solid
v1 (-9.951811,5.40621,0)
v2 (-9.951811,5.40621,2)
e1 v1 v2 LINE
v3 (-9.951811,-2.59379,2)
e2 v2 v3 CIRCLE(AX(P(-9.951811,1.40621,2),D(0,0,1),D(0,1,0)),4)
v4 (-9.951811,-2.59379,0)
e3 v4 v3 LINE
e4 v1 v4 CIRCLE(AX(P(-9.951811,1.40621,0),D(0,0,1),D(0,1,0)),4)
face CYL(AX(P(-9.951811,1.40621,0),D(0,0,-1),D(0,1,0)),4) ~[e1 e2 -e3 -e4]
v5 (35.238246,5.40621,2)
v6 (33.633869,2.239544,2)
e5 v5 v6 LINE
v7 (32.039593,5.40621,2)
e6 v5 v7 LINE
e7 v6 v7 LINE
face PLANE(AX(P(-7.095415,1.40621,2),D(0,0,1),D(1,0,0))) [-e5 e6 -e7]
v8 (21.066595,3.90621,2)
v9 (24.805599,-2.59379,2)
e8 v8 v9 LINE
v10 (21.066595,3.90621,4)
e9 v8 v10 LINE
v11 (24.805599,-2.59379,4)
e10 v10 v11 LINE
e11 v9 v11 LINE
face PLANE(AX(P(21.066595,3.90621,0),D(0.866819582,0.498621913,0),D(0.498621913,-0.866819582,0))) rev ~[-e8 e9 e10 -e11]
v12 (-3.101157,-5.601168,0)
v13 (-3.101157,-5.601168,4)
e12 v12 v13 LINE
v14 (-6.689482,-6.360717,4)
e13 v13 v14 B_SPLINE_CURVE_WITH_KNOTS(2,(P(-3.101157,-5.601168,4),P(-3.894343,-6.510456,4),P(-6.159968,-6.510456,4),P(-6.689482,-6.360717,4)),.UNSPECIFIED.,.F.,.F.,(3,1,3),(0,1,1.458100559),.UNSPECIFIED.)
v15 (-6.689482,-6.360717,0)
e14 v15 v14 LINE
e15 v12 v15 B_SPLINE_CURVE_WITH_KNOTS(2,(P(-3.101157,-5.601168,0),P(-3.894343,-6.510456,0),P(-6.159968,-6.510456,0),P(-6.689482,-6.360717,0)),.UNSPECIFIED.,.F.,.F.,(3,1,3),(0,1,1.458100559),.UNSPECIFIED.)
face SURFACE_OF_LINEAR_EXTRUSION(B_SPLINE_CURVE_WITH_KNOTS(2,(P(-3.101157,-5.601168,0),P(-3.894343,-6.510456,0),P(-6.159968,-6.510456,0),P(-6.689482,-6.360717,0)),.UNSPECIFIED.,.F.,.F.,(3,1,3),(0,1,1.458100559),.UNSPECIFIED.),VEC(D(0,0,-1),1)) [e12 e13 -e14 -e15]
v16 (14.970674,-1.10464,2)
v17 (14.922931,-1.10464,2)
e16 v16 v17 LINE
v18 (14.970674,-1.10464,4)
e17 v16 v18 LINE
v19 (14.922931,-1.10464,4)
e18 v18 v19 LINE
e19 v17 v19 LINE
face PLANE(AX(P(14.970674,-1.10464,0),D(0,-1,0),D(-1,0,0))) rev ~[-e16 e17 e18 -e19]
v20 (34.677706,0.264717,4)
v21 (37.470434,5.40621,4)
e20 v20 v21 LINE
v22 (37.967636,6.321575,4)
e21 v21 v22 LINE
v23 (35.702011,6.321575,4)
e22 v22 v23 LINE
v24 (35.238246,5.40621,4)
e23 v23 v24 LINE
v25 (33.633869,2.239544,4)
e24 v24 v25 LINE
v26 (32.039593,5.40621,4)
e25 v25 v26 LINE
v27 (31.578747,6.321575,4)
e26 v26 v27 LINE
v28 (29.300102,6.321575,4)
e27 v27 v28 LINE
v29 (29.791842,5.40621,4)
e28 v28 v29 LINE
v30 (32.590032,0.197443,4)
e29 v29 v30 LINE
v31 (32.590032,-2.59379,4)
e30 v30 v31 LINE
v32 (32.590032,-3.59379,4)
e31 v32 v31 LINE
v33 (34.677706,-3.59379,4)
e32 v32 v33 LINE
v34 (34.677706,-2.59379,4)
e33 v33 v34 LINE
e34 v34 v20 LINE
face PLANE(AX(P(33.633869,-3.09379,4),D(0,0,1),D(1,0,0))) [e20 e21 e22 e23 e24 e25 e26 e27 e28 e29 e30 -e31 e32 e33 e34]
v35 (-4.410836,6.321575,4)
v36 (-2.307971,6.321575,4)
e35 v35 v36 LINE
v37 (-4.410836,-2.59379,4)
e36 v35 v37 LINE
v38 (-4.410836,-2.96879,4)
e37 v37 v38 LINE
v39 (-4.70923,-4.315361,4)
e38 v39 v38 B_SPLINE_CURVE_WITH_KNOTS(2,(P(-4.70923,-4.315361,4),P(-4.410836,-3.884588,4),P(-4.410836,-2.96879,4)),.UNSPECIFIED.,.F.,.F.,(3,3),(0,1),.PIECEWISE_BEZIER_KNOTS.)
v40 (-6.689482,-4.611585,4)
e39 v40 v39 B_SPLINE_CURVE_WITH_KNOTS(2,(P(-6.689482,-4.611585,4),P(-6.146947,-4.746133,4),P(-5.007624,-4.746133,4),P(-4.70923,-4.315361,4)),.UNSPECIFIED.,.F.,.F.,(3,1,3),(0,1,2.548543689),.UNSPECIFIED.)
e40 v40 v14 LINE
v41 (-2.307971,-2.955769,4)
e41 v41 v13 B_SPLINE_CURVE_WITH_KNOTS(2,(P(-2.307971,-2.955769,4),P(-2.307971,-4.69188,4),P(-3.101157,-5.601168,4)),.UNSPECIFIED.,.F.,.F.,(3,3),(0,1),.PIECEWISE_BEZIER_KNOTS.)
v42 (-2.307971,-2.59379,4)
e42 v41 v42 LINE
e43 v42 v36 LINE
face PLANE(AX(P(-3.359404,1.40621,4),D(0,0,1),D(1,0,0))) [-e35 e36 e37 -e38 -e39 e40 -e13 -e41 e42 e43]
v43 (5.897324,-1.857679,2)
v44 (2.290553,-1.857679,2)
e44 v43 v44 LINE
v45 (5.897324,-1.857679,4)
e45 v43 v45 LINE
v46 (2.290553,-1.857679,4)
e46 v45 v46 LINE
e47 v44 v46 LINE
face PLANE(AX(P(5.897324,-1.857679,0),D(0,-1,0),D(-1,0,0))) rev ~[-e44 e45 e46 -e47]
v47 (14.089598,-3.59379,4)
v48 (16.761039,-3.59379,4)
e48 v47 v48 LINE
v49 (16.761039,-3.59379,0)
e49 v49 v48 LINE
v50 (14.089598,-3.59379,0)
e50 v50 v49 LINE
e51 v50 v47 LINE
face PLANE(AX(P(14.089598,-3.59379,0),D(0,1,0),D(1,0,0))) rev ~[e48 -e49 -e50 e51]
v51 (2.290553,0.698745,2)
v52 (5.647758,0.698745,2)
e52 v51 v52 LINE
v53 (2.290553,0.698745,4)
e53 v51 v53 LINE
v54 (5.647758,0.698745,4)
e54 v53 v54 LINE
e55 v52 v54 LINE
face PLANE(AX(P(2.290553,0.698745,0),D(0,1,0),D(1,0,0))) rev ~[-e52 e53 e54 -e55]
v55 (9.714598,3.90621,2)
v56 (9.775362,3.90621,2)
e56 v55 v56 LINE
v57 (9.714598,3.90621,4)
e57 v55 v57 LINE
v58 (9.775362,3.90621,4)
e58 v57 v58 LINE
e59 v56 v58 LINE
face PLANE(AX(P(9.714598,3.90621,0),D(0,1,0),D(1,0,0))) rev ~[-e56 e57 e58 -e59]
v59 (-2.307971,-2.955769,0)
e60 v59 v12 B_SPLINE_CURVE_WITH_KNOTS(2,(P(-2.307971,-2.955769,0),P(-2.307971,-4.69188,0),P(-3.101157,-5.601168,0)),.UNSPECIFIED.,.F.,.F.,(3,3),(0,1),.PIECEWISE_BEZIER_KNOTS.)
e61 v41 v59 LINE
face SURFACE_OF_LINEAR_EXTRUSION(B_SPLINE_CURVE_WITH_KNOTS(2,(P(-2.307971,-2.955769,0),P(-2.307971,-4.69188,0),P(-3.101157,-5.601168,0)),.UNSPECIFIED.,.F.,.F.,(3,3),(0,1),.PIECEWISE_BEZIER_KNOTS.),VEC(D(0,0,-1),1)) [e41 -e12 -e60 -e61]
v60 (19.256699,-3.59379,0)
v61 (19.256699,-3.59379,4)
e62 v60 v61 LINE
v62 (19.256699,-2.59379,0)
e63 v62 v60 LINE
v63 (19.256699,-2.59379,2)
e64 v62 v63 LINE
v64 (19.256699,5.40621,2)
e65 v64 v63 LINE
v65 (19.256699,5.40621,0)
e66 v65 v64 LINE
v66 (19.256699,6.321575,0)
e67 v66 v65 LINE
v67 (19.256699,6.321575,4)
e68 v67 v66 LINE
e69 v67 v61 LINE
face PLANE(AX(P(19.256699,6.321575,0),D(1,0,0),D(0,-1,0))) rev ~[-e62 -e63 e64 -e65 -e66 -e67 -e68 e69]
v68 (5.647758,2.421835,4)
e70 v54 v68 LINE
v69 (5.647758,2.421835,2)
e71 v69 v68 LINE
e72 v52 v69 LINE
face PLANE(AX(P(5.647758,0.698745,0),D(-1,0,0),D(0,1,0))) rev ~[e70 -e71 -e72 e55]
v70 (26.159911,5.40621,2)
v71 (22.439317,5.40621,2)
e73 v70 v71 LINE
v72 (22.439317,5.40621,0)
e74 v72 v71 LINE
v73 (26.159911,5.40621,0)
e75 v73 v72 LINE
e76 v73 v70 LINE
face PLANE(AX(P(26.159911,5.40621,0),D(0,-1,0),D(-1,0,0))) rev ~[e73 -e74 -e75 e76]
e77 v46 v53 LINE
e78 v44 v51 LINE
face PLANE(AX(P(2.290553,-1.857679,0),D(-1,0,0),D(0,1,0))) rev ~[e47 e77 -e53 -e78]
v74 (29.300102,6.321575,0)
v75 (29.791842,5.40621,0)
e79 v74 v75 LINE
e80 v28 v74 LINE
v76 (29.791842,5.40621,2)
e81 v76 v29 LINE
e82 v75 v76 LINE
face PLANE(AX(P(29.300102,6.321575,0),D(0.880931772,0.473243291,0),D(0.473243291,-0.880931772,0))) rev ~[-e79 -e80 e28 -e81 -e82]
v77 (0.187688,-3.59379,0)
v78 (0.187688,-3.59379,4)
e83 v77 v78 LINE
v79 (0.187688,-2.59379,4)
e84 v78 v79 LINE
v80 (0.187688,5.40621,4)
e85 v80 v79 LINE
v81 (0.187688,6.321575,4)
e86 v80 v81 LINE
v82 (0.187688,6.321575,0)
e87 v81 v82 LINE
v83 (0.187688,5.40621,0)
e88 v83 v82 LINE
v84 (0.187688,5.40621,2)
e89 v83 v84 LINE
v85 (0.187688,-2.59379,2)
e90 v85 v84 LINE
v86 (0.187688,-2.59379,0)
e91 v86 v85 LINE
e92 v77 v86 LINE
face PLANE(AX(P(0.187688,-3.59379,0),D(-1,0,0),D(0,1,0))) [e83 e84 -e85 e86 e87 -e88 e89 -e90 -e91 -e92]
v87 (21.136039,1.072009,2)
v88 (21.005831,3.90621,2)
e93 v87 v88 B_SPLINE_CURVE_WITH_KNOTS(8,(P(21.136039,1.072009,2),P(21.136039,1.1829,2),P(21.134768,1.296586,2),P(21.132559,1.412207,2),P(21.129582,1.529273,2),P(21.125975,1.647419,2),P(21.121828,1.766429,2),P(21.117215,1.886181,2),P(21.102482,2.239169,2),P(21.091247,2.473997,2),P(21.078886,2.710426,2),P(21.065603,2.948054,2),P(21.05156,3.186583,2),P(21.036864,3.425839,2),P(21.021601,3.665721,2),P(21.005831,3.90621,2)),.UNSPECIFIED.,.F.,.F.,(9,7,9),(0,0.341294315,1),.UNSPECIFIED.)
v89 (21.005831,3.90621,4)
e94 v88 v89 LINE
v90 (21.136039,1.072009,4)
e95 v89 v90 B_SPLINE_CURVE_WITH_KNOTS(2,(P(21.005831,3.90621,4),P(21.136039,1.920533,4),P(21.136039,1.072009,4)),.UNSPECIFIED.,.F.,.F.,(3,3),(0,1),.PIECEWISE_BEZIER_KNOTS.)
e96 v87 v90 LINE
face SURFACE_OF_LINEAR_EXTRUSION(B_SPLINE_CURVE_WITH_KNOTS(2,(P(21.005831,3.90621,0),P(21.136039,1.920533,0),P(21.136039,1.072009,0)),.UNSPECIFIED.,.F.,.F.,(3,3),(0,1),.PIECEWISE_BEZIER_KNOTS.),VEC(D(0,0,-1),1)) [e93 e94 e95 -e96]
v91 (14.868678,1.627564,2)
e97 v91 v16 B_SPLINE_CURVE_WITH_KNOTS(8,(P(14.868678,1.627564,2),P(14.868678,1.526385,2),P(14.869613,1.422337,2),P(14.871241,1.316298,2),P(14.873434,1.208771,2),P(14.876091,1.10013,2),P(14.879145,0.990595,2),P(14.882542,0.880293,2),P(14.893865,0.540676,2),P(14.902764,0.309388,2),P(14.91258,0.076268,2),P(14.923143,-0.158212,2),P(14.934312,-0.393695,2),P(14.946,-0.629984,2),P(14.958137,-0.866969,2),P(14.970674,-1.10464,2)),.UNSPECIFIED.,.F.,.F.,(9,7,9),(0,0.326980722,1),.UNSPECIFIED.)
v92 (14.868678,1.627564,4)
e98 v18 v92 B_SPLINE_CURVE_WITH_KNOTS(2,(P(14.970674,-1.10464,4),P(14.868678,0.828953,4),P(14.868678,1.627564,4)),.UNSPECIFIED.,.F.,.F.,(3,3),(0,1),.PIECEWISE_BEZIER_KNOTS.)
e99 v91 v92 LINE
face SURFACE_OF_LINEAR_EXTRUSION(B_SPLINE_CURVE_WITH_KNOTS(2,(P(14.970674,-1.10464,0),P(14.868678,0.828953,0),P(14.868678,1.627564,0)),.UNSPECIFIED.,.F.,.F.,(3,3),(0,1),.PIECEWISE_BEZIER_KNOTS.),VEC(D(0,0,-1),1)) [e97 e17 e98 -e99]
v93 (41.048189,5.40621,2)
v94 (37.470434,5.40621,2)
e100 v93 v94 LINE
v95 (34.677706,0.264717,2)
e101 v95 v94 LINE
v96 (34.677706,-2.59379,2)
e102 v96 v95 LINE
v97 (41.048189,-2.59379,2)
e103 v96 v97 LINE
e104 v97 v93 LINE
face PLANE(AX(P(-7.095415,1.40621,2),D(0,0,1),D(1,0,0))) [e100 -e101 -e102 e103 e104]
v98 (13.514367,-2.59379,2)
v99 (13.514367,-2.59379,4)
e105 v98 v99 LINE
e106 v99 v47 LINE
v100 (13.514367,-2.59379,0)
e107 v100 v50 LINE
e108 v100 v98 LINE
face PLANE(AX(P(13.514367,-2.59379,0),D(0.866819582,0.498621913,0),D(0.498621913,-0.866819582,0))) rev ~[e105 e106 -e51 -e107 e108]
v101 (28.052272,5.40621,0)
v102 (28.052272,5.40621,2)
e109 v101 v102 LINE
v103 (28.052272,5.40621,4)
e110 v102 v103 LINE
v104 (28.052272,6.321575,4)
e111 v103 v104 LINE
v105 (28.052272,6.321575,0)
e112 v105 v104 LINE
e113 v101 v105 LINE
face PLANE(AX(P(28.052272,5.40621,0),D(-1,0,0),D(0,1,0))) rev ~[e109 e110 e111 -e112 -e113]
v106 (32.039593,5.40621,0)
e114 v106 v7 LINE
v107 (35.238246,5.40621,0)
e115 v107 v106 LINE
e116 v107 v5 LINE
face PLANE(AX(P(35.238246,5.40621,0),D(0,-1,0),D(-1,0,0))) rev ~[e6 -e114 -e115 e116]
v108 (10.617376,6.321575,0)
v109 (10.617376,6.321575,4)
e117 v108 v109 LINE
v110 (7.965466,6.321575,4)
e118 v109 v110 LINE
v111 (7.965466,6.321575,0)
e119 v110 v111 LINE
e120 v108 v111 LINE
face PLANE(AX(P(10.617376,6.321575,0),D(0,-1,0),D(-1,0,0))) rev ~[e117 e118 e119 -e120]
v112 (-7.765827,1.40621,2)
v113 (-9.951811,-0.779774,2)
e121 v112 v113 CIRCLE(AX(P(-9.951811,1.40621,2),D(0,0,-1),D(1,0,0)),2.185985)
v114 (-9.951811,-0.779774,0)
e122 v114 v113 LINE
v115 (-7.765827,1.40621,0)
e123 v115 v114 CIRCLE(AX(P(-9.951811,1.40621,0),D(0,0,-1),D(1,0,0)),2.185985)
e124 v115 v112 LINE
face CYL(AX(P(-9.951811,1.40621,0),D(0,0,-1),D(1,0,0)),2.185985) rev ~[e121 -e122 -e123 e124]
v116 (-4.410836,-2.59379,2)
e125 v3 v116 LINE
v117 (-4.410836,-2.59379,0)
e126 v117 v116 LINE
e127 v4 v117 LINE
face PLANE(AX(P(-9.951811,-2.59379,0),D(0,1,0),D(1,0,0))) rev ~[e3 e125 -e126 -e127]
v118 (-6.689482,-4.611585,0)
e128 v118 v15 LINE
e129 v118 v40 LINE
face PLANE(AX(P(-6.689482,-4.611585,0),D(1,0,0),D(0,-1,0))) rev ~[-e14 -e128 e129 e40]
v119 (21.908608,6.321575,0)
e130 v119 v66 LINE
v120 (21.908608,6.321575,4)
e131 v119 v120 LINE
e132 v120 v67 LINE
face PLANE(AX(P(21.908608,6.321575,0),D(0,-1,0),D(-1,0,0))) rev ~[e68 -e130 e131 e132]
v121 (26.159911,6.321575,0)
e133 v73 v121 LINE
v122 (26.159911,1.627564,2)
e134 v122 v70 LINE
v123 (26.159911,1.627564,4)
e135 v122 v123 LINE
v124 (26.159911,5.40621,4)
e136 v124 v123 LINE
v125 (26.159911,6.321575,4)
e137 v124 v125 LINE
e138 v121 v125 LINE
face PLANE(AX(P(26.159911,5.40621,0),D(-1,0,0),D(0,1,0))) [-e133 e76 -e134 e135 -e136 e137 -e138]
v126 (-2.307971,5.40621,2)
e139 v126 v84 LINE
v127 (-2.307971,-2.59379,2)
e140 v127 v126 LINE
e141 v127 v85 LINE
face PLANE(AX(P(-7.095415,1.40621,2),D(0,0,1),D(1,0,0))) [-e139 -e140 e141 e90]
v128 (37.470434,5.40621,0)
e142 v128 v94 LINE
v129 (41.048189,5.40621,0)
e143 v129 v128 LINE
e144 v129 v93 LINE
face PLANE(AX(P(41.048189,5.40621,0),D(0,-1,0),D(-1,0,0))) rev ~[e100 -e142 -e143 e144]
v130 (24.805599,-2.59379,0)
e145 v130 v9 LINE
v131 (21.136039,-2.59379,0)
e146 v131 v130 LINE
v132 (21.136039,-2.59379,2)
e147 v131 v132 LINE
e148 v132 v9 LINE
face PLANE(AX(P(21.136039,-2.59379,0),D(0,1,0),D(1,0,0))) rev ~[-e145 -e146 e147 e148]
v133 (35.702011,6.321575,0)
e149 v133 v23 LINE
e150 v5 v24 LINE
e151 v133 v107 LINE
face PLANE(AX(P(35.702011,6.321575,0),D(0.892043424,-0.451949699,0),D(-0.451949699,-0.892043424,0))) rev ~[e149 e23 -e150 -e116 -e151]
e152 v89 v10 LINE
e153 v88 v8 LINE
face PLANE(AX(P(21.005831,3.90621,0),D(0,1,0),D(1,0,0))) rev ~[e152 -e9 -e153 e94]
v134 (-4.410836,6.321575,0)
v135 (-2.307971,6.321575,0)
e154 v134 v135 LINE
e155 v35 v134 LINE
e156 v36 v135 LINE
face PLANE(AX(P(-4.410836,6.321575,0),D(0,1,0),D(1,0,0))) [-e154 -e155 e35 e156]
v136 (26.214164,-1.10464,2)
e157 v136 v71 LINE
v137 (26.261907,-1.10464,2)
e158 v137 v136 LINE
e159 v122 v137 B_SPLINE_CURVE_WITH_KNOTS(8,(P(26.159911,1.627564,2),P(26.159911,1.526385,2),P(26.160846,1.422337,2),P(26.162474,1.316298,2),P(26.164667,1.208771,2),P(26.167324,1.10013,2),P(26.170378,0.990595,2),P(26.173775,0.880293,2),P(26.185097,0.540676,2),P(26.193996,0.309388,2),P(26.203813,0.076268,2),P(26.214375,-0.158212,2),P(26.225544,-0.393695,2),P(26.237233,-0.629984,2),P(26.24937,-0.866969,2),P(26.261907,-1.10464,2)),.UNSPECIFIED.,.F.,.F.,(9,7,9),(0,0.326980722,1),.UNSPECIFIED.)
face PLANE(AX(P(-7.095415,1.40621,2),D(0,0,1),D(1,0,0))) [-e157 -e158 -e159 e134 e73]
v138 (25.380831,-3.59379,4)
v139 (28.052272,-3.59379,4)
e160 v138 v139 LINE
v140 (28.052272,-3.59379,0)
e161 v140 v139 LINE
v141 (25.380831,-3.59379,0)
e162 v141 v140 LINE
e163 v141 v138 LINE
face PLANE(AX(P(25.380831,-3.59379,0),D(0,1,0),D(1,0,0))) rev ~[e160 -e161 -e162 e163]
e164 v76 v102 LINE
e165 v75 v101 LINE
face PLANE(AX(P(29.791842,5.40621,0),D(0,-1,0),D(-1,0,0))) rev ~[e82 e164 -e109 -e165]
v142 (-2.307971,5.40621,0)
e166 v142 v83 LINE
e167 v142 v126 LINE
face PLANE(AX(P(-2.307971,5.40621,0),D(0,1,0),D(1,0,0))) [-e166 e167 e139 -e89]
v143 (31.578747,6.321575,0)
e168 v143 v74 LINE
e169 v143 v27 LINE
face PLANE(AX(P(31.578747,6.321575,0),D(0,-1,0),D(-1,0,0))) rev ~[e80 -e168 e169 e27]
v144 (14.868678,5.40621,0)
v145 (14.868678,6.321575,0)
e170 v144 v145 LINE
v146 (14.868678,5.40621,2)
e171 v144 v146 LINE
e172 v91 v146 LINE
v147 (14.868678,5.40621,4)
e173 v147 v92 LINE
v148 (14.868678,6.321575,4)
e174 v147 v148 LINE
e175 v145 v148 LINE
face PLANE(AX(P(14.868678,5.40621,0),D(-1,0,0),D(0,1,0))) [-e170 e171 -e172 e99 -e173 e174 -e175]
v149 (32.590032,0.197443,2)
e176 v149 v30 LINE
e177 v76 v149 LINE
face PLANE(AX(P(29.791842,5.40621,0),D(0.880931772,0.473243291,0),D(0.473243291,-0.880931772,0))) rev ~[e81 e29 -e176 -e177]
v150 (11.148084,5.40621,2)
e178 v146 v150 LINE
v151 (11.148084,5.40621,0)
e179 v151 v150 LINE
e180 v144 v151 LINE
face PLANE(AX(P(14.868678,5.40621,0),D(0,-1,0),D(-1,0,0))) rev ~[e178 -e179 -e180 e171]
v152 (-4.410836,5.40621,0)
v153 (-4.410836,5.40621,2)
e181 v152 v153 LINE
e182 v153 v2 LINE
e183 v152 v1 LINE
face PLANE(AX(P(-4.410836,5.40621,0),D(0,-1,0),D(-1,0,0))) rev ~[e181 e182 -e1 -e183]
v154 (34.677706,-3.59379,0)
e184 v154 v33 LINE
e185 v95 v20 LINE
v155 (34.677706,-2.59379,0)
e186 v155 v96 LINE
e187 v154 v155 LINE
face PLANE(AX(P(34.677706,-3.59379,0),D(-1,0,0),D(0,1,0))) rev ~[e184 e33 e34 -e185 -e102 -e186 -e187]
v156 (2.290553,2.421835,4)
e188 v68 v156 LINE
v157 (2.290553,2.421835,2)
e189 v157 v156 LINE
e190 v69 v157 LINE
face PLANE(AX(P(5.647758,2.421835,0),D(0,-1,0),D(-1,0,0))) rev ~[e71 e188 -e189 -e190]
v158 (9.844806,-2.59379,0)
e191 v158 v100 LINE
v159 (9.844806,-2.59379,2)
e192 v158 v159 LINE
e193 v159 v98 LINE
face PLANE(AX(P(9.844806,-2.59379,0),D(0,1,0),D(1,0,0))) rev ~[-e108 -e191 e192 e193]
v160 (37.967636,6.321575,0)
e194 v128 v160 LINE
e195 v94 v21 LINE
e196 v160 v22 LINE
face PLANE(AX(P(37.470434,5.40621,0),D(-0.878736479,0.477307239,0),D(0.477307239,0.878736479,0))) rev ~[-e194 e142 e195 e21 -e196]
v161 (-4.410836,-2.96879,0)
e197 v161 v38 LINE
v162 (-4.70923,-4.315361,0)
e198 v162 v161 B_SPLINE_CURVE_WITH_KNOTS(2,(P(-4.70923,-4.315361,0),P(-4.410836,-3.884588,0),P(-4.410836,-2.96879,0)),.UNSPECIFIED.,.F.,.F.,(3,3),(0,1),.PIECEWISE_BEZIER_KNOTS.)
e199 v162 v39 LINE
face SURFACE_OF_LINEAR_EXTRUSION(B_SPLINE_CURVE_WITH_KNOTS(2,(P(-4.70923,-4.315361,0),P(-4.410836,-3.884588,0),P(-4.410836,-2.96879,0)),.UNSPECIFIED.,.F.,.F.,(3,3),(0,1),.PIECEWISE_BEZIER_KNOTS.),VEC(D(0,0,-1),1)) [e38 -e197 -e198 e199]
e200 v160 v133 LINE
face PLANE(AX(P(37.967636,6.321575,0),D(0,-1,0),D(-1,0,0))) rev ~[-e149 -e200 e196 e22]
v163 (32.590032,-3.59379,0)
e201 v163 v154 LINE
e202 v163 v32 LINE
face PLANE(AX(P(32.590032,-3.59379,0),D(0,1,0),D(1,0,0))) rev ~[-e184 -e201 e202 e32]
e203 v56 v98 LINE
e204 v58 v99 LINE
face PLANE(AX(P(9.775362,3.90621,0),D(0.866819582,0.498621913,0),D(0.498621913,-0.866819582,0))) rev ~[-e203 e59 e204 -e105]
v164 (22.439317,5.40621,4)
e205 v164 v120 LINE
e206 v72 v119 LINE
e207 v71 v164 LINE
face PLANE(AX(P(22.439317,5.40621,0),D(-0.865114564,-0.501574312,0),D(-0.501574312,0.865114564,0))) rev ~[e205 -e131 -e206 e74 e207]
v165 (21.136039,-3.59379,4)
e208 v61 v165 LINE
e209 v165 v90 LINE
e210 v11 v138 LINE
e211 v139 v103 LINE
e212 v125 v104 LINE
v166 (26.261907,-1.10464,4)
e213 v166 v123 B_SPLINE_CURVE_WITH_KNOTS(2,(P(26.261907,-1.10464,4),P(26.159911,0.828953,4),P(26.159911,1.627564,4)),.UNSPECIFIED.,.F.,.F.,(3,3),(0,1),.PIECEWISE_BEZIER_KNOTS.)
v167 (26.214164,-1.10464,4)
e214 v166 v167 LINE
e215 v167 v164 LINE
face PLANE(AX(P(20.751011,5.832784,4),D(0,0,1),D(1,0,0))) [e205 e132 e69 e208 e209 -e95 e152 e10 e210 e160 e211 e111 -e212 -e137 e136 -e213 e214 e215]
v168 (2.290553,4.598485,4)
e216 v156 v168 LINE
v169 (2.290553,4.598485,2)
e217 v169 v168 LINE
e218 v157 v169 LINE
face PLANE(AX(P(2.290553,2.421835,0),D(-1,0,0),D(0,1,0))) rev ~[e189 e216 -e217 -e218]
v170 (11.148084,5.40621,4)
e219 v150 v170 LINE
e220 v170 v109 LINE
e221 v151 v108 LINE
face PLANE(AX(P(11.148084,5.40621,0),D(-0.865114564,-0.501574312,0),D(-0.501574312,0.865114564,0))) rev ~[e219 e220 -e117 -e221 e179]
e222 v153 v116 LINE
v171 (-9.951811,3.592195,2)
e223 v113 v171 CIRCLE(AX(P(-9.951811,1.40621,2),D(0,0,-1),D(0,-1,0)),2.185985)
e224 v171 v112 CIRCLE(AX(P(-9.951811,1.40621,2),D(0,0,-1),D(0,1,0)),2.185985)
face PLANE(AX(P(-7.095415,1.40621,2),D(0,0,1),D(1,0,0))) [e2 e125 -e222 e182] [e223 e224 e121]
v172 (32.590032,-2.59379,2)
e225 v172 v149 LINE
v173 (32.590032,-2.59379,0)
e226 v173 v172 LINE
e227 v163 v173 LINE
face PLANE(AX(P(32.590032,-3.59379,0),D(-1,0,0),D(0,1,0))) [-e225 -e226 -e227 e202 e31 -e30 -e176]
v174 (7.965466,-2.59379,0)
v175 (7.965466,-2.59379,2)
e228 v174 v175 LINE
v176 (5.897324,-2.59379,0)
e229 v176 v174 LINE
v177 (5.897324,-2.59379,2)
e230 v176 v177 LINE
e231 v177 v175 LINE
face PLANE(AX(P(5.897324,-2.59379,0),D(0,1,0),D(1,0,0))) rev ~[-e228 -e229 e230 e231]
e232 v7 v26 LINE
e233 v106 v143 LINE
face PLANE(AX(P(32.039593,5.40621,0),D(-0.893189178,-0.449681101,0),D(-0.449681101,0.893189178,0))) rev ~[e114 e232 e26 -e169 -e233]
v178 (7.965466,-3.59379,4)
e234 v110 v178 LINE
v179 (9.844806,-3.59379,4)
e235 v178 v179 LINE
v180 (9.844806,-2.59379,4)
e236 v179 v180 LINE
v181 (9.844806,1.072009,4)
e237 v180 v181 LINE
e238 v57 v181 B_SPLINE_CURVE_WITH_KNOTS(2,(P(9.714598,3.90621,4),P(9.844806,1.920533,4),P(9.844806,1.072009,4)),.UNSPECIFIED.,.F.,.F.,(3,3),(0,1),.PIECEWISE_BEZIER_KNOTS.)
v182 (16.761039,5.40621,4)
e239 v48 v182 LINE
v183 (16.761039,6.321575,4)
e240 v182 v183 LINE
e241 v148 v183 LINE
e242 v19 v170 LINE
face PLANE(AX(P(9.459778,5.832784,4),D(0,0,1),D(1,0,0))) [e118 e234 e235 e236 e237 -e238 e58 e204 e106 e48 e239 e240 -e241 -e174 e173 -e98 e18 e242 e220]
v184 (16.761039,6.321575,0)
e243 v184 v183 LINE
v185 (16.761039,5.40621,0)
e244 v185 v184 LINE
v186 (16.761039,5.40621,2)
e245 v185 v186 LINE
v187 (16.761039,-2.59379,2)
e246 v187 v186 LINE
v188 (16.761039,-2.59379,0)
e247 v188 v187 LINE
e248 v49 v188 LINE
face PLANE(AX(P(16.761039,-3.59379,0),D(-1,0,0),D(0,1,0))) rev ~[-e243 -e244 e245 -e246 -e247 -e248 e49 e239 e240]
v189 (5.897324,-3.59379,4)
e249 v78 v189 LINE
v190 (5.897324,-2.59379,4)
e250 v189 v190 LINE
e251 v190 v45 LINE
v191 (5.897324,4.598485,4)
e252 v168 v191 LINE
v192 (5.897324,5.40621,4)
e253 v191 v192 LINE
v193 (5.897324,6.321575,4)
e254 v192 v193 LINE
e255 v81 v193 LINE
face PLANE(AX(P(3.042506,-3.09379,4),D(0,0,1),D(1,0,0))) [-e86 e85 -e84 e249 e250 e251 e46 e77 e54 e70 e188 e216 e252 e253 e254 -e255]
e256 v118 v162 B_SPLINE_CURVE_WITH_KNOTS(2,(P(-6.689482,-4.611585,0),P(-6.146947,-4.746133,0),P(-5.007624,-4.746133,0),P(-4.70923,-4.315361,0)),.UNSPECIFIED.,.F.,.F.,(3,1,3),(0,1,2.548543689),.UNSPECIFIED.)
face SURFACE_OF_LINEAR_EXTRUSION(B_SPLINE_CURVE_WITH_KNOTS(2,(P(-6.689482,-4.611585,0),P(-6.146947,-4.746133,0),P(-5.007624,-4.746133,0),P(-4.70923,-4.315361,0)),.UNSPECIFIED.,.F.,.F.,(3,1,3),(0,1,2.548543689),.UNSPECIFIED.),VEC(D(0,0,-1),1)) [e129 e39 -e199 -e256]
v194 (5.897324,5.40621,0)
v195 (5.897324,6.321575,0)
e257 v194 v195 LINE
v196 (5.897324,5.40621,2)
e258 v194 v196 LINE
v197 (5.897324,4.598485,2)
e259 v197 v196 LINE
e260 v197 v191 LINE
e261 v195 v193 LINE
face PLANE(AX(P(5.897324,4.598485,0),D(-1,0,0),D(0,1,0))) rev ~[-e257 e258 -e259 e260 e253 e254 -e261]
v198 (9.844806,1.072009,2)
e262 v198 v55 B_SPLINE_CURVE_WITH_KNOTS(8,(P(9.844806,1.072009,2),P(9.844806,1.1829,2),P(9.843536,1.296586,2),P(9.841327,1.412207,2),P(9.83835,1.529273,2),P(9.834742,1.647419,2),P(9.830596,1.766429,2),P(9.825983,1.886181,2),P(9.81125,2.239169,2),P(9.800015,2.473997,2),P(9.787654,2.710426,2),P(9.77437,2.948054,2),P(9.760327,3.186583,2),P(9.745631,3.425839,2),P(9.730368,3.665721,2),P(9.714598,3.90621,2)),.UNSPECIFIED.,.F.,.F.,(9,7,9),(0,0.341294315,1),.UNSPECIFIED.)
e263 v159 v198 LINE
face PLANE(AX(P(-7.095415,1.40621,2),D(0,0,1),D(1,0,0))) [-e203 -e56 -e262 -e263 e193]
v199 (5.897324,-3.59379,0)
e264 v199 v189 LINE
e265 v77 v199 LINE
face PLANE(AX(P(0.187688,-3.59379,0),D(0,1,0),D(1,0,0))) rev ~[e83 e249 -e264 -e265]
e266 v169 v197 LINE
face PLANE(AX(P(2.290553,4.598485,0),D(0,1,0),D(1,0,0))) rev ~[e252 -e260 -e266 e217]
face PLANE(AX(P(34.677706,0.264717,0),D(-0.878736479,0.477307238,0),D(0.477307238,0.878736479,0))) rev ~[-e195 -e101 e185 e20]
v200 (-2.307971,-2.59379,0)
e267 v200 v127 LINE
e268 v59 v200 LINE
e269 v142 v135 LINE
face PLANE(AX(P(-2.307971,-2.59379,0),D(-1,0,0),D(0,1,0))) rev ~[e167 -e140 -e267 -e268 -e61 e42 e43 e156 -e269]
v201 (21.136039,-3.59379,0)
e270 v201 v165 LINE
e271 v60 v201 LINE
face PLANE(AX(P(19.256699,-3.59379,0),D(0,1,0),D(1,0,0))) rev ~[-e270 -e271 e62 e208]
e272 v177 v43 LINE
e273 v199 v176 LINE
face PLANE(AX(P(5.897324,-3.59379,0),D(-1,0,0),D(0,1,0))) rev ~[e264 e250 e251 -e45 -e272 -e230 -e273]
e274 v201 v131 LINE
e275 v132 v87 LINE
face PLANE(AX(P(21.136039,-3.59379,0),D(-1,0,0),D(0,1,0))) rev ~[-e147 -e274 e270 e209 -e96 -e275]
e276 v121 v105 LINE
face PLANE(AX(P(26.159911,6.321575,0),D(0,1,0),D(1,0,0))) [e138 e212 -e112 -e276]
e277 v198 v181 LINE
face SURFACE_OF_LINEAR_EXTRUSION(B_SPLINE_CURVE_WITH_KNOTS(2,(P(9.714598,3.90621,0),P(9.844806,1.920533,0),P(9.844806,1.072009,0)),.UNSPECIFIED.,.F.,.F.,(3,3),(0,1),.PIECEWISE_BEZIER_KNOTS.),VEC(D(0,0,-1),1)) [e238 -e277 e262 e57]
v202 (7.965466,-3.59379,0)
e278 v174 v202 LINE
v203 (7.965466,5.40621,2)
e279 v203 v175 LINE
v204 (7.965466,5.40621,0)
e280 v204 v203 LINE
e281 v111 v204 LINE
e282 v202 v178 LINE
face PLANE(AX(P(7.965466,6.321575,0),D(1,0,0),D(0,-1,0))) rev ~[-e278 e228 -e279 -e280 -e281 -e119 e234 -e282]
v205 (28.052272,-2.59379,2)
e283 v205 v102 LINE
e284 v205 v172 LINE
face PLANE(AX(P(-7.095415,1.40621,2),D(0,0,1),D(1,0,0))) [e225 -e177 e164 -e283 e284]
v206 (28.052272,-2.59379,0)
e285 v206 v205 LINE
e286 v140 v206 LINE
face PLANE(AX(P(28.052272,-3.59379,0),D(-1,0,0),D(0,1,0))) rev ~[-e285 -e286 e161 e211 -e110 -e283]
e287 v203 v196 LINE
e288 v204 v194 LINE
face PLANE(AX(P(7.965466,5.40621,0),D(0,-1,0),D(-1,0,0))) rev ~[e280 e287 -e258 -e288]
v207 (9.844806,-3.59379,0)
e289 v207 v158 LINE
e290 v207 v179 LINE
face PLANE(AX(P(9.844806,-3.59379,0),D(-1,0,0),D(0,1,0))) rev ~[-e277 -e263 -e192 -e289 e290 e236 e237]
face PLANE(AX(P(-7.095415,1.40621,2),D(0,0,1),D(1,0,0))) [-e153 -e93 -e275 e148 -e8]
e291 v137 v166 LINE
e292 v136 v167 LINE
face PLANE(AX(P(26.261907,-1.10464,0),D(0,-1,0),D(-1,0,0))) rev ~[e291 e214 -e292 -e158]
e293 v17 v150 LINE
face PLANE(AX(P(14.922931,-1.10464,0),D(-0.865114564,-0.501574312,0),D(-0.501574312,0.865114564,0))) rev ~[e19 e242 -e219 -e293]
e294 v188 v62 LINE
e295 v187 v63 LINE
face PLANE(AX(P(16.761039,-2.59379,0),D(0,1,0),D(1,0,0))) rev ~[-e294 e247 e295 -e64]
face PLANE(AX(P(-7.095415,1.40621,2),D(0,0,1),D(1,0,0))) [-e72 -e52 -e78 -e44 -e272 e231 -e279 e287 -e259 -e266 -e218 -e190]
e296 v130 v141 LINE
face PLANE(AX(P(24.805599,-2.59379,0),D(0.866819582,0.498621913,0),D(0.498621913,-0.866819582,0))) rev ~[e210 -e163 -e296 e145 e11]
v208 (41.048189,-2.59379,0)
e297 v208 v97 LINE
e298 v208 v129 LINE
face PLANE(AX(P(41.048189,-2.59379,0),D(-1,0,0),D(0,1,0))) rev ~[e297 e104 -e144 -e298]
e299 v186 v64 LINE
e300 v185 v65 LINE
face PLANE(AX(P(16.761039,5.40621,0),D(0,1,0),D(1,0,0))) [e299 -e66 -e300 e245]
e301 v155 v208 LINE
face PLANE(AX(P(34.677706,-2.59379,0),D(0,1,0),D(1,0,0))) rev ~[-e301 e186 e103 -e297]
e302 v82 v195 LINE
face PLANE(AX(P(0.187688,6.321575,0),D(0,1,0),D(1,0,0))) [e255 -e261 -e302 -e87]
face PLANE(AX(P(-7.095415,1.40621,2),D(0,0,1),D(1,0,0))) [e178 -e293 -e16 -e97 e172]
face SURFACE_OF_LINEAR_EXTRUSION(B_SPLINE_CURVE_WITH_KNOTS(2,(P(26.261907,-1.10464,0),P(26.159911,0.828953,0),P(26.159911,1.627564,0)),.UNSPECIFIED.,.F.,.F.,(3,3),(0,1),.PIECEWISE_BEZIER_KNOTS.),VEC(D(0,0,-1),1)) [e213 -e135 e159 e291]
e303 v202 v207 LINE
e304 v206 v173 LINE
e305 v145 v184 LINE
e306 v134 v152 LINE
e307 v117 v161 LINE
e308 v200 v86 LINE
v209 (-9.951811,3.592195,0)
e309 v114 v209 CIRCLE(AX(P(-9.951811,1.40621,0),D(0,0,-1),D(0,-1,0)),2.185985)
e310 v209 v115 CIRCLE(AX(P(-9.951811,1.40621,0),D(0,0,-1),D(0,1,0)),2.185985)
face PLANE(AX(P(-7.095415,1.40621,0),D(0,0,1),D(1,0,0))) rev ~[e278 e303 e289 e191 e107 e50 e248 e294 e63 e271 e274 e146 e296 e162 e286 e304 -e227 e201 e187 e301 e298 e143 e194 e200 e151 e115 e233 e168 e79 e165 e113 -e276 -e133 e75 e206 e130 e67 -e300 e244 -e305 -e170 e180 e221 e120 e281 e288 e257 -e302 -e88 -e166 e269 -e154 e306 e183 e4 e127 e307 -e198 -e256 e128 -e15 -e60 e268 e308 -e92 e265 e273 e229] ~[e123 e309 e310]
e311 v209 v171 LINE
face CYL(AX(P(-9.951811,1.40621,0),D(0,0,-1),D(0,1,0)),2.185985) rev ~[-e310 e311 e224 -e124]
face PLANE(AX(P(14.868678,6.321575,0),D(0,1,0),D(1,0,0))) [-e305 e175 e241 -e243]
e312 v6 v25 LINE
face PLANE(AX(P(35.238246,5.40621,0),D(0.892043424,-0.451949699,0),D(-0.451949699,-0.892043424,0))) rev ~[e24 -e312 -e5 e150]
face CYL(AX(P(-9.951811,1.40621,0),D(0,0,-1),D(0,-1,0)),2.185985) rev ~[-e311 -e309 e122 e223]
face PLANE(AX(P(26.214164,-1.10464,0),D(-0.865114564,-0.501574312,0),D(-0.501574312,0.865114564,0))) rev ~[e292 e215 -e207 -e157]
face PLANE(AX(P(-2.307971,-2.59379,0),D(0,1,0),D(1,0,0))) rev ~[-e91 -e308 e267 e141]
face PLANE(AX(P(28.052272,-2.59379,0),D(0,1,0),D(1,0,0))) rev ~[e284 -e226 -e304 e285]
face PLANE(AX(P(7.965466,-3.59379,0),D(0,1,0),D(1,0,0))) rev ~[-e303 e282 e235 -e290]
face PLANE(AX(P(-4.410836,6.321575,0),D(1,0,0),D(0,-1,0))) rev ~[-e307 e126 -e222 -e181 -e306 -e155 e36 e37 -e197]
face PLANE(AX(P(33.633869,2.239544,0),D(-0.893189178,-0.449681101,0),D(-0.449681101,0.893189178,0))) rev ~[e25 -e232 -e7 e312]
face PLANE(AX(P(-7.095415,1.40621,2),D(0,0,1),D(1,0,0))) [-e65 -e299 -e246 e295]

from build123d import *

# Parameters (mm, degrees)
F0_W     = 2.1028645833
F0_H     = 8
F0_H_2   = 0.9153645833
F1_DEPTH = 4
F0_W_2   = 5.7096354167
F0_H_3   = 1
F0_W_3   = 1.8793402778
F0_W_4   = 1.8923611111
F0_W_5   = 2.0876736111
F0_W_6   = 2.4956597222
F2_DEPTH = 2


with BuildPart() as f1:
    # F0 (on Top) → F1 (new body)
    with BuildSketch(Plane.XY):
        with Locations((-3.3594036534, 1.4062102847)):
            Rectangle(F0_W, F0_H)
        with Locations((-3.3594036534, 5.8638925763)):
            Rectangle(F0_W, F0_H_2)
        with BuildLine():
            Line((-2.3079713617, -2.5937897153), (-4.4108359451, -2.5937897153))
            Line((-4.4108359451, -2.5937897153), (-4.4108359451, -2.9687897153))
            add(Edge.make_bspline(
                [(-4.7092300423, -4.3153608959), (-4.4108359451, -3.8845883264), (-4.4108359451, -2.9687897153)],
                knots=[0, 0, 0, 1, 1, 1], degree=2))
            add(Edge.make_bspline(
                [(-5.6998984451, -4.7461334653), (-5.0076241395, -4.7461334653), (-4.7092300423, -4.3153608959)],
                knots=[0, 0, 0, 1, 1, 1], degree=2))
            add(Edge.make_bspline(
                [(-6.6894817784, -4.6115848542), (-6.1469470562, -4.7461334653), (-5.6998984451, -4.7461334653)],
                knots=[0, 0, 0, 1, 1, 1], degree=2))
            Line((-6.6894817784, -4.6115848542), (-6.6894817784, -6.3607167987))
            add(Edge.make_bspline(
                [(-5.448162334, -6.510456382), (-6.1599678895, -6.510456382), (-6.6894817784, -6.3607167987)],
                knots=[0, 0, 0, 1, 1, 1], degree=2))
            add(Edge.make_bspline(
                [(-3.1011571256, -5.6011681875), (-3.8943428895, -6.510456382), (-5.448162334, -6.510456382)],
                knots=[0, 0, 0, 1, 1, 1], degree=2))
            add(Edge.make_bspline(
                [(-2.3079713617, -2.955768882), (-2.3079713617, -4.6918799931), (-3.1011571256, -5.6011681875)],
                knots=[0, 0, 0, 1, 1, 1], degree=2))
            Line((-2.3079713617, -2.955768882), (-2.3079713617, -2.5937897153))
        make_face()
    extrude(amount=F1_DEPTH)



with BuildPart() as f1b:
    # F0 (on Top) → F1, piece 2 (new body)
    with BuildSketch(Plane.XY):
        with Locations((3.0425060688, -3.0937897153)):
            Rectangle(F0_W_2, F0_H_3)
        Polygon((5.8973237772, 5.4062102847), (0.1876883605, 5.4062102847), (0.1876883605, -2.5937897153), (5.8973237772, -2.5937897153), (5.8973237772, -1.8576786042), (2.2905529438, -1.8576786042), (2.2905529438, 0.6987450069), (5.6477578049, 0.6987450069), (5.6477578049, 2.4218352847), (2.2905529438, 2.4218352847), (2.2905529438, 4.5984845902), (5.8973237772, 4.5984845902), align=None)
        with Locations((3.0425060688, 5.8638925763)):
            Rectangle(F0_W_2, F0_H_2)
    extrude(amount=F1_DEPTH)


with BuildPart() as f1c:
    # F0 (on Top) → F1, piece 3 (new body)
    with BuildSketch(Plane.XY):
        Polygon((7.9654661383, 6.321574868), (7.9654661383, 5.4062102847), (11.1480840234, 5.4062102847), (10.6173758605, 6.321574868), align=None)
        with BuildLine():
            Line((11.1480840234, 5.4062102847), (7.9654661383, 5.4062102847))
            Line((7.9654661383, 5.4062102847), (7.9654661383, -2.5937897153))
            Line((7.9654661383, -2.5937897153), (9.844806416, -2.5937897153))
            Line((9.844806416, -2.5937897153), (9.844806416, 1.0720088958))
            add(Edge.make_bspline(
                [(9.7145980827, 3.9062102847), (9.844806416, 1.9205332013), (9.844806416, 1.0720088958)],
                knots=[0, 0, 0, 1, 1, 1], degree=2))
            Line((9.7145980827, 3.9062102847), (9.7753619716, 3.9062102847))
            Line((9.7753619716, 3.9062102847), (13.5143666012, -2.5937897153))
            Line((13.5143666012, -2.5937897153), (16.7610390549, -2.5937897153))
            Line((16.7610390549, -2.5937897153), (16.7610390549, 5.4062102847))
            Line((16.7610390549, 5.4062102847), (14.8686779438, 5.4062102847))
            Line((14.8686779438, 5.4062102847), (14.8686779438, 1.6275644513))
            add(Edge.make_bspline(
                [(14.9706744716, -1.1046404098), (14.8686779438, 0.8289533402), (14.8686779438, 1.6275644513)],
                knots=[0, 0, 0, 1, 1, 1], degree=2))
            Line((14.9706744716, -1.1046404098), (14.922931416, -1.1046404098))
            Line((14.922931416, -1.1046404098), (11.1480840234, 5.4062102847))
        make_face()
        with Locations((8.9051362772, -3.0937897153)):
            Rectangle(F0_W_3, F0_H_3)
        Polygon((16.7610390549, -2.5937897153), (13.5143666012, -2.5937897153), (14.0895980827, -3.5937897153), (16.7610390549, -3.5937897153), align=None)
        with Locations((15.8148584994, 5.8638925763)):
            Rectangle(F0_W_4, F0_H_2)
    extrude(amount=F1_DEPTH)


with BuildPart() as f1d:
    # F0 (on Top) → F1, piece 4 (new body)
    with BuildSketch(Plane.XY):
        Polygon((19.2566987772, 6.321574868), (19.2566987772, 5.4062102847), (22.4393166622, 5.4062102847), (21.9086084994, 6.321574868), align=None)
        with BuildLine():
            Line((22.4393166622, 5.4062102847), (19.2566987772, 5.4062102847))
            Line((19.2566987772, 5.4062102847), (19.2566987772, -2.5937897153))
            Line((19.2566987772, -2.5937897153), (21.1360390549, -2.5937897153))
            Line((21.1360390549, -2.5937897153), (21.1360390549, 1.0720088958))
            add(Edge.make_bspline(
                [(21.0058307216, 3.9062102847), (21.1360390549, 1.9205332013), (21.1360390549, 1.0720088958)],
                knots=[0, 0, 0, 1, 1, 1], degree=2))
            Line((21.0058307216, 3.9062102847), (21.0665946105, 3.9062102847))
            Line((21.0665946105, 3.9062102847), (24.8055992401, -2.5937897153))
            Line((24.8055992401, -2.5937897153), (28.0522716938, -2.5937897153))
            Line((28.0522716938, -2.5937897153), (28.0522716938, 5.4062102847))
            Line((28.0522716938, 5.4062102847), (26.1599105827, 5.4062102847))
            Line((26.1599105827, 5.4062102847), (26.1599105827, 1.6275644513))
            add(Edge.make_bspline(
                [(26.2619071105, -1.1046404098), (26.1599105827, 0.8289533402), (26.1599105827, 1.6275644513)],
                knots=[0, 0, 0, 1, 1, 1], degree=2))
            Line((26.2619071105, -1.1046404098), (26.2141640549, -1.1046404098))
            Line((26.2141640549, -1.1046404098), (22.4393166622, 5.4062102847))
        make_face()
        with Locations((27.1060911383, 5.8638925763)):
            Rectangle(F0_W_4, F0_H_2)
        Polygon((28.0522716938, -2.5937897153), (24.8055992401, -2.5937897153), (25.3808307216, -3.5937897153), (28.0522716938, -3.5937897153), align=None)
        with Locations((20.196368916, -3.0937897153)):
            Rectangle(F0_W_3, F0_H_3)
    extrude(amount=F1_DEPTH)


with BuildPart() as f1e:
    # F0 (on Top) → F1, piece 5 (new body)
    with BuildSketch(Plane.XY):
        with Locations((33.633868916, -3.0937897153)):
            Rectangle(F0_W_5, F0_H_3)
        Polygon((32.0395928218, 5.4062102847), (29.7918424154, 5.4062102847), (32.5900321105, 0.1974429236), (32.5900321105, -2.5937897153), (34.6777057216, -2.5937897153), (34.6777057216, 0.2647172291), (37.470433587, 5.4062102847), (35.2382460204, 5.4062102847), (33.633868916, 2.239543618), align=None)
        Polygon((29.3001015549, 6.321574868), (29.7918424154, 5.4062102847), (32.0395928218, 5.4062102847), (31.5787473883, 6.321574868), align=None)
        Polygon((35.7020112772, 6.321574868), (35.2382460204, 5.4062102847), (37.470433587, 5.4062102847), (37.9676362772, 6.321574868), align=None)
    extrude(amount=F1_DEPTH)


with BuildPart() as f1_1:
    add(f1.part)

    add(f1b.part)  # F2 merges F1b

    add(f1c.part)  # F2 merges F1c

    add(f1d.part)  # F2 merges F1d

    add(f1e.part)  # F2 merges F1e
    # F0 (on Top) → F2 (join)
    with BuildSketch(Plane.XY):
        with BuildLine():
            Line((-4.4108359451, 5.4062102847), (-9.9518112838, 5.4062102847))
            Line((-9.9518112838, 5.4062102847), (-9.9518112838, 3.5921949646))
            ThreePointArc((-9.9518112838, 3.5921949646), (-8.4060866931, 2.9519348754), (-7.7658266039, 1.4062102847))
            ThreePointArc((-7.7658266039, 1.4062102847), (-8.4060866931, -0.1395143061), (-9.9518112838, -0.7797743953))
            Line((-9.9518112838, -0.7797743953), (-9.9518112838, -2.5937897153))
            Line((-9.9518112838, -2.5937897153), (-4.4108359451, -2.5937897153))
            Line((-4.4108359451, -2.5937897153), (-4.4108359451, 5.4062102847))
        make_face()
        with BuildLine():
            Line((-9.9518112838, 3.5921949646), (-9.9518112838, 5.4062102847))
            ThreePointArc((-9.9518112838, 5.4062102847), (-13.9518112838, 1.4062102847), (-9.9518112838, -2.5937897153))
            Line((-9.9518112838, -2.5937897153), (-9.9518112838, -0.7797743953))
            ThreePointArc((-9.9518112838, -0.7797743953), (-12.1377959638, 1.4062102847), (-9.9518112838, 3.5921949646))
        make_face()
        with Locations((-3.3594036534, 5.8638925763)):
            Rectangle(F0_W, F0_H_2)
        with Locations((-3.3594036534, 1.4062102847)):
            Rectangle(F0_W, F0_H)
        with Locations((-1.0601415006, 1.4062102847)):
            Rectangle(F0_W_6, F0_H)
        with BuildLine():
            Line((-2.3079713617, -2.5937897153), (-4.4108359451, -2.5937897153))
            Line((-4.4108359451, -2.5937897153), (-4.4108359451, -2.9687897153))
            add(Edge.make_bspline(
                [(-4.7092300423, -4.3153608959), (-4.4108359451, -3.8845883264), (-4.4108359451, -2.9687897153)],
                knots=[0, 0, 0, 1, 1, 1], degree=2))
            add(Edge.make_bspline(
                [(-5.6998984451, -4.7461334653), (-5.0076241395, -4.7461334653), (-4.7092300423, -4.3153608959)],
                knots=[0, 0, 0, 1, 1, 1], degree=2))
            add(Edge.make_bspline(
                [(-6.6894817784, -4.6115848542), (-6.1469470562, -4.7461334653), (-5.6998984451, -4.7461334653)],
                knots=[0, 0, 0, 1, 1, 1], degree=2))
            Line((-6.6894817784, -4.6115848542), (-6.6894817784, -6.3607167987))
            add(Edge.make_bspline(
                [(-5.448162334, -6.510456382), (-6.1599678895, -6.510456382), (-6.6894817784, -6.3607167987)],
                knots=[0, 0, 0, 1, 1, 1], degree=2))
            add(Edge.make_bspline(
                [(-3.1011571256, -5.6011681875), (-3.8943428895, -6.510456382), (-5.448162334, -6.510456382)],
                knots=[0, 0, 0, 1, 1, 1], degree=2))
            add(Edge.make_bspline(
                [(-2.3079713617, -2.955768882), (-2.3079713617, -4.6918799931), (-3.1011571256, -5.6011681875)],
                knots=[0, 0, 0, 1, 1, 1], degree=2))
            Line((-2.3079713617, -2.955768882), (-2.3079713617, -2.5937897153))
        make_face()
        with Locations((3.0425060688, 5.8638925763)):
            Rectangle(F0_W_2, F0_H_2)
        Polygon((5.8973237772, 5.4062102847), (0.1876883605, 5.4062102847), (0.1876883605, -2.5937897153), (5.8973237772, -2.5937897153), (5.8973237772, -1.8576786042), (2.2905529438, -1.8576786042), (2.2905529438, 0.6987450069), (5.6477578049, 0.6987450069), (5.6477578049, 2.4218352847), (2.2905529438, 2.4218352847), (2.2905529438, 4.5984845902), (5.8973237772, 4.5984845902), align=None)
        Polygon((7.9654661383, 5.4062102847), (5.8973237772, 5.4062102847), (5.8973237772, 4.5984845902), (2.2905529438, 4.5984845902), (2.2905529438, 2.4218352847), (5.6477578049, 2.4218352847), (5.6477578049, 0.6987450069), (2.2905529438, 0.6987450069), (2.2905529438, -1.8576786042), (5.8973237772, -1.8576786042), (5.8973237772, -2.5937897153), (7.9654661383, -2.5937897153), align=None)
        with Locations((3.0425060688, -3.0937897153)):
            Rectangle(F0_W_2, F0_H_3)
        Polygon((7.9654661383, 6.321574868), (7.9654661383, 5.4062102847), (11.1480840234, 5.4062102847), (10.6173758605, 6.321574868), align=None)
        with BuildLine():
            Line((11.1480840234, 5.4062102847), (7.9654661383, 5.4062102847))
            Line((7.9654661383, 5.4062102847), (7.9654661383, -2.5937897153))
            Line((7.9654661383, -2.5937897153), (9.844806416, -2.5937897153))
            Line((9.844806416, -2.5937897153), (9.844806416, 1.0720088958))
            add(Edge.make_bspline(
                [(9.7145980827, 3.9062102847), (9.844806416, 1.9205332013), (9.844806416, 1.0720088958)],
                knots=[0, 0, 0, 1, 1, 1], degree=2))
            Line((9.7145980827, 3.9062102847), (9.7753619716, 3.9062102847))
            Line((9.7753619716, 3.9062102847), (13.5143666012, -2.5937897153))
            Line((13.5143666012, -2.5937897153), (16.7610390549, -2.5937897153))
            Line((16.7610390549, -2.5937897153), (16.7610390549, 5.4062102847))
            Line((16.7610390549, 5.4062102847), (14.8686779438, 5.4062102847))
            Line((14.8686779438, 5.4062102847), (14.8686779438, 1.6275644513))
            add(Edge.make_bspline(
                [(14.9706744716, -1.1046404098), (14.8686779438, 0.8289533402), (14.8686779438, 1.6275644513)],
                knots=[0, 0, 0, 1, 1, 1], degree=2))
            Line((14.9706744716, -1.1046404098), (14.922931416, -1.1046404098))
            Line((14.922931416, -1.1046404098), (11.1480840234, 5.4062102847))
        make_face()
        with BuildLine():
            Line((14.8686779438, 5.4062102847), (11.1480840234, 5.4062102847))
            Line((11.1480840234, 5.4062102847), (14.922931416, -1.1046404098))
            Line((14.922931416, -1.1046404098), (14.9706744716, -1.1046404098))
            add(Edge.make_bspline(
                [(14.9706744716, -1.1046404098), (14.8686779438, 0.8289533402), (14.8686779438, 1.6275644513)],
                knots=[0, 0, 0, 1, 1, 1], degree=2))
            Line((14.8686779438, 1.6275644513), (14.8686779438, 5.4062102847))
        make_face()
        with Locations((8.9051362772, -3.0937897153)):
            Rectangle(F0_W_3, F0_H_3)
        with Locations((15.8148584994, 5.8638925763)):
            Rectangle(F0_W_4, F0_H_2)
        with BuildLine():
            Line((9.844806416, 1.0720088958), (9.844806416, -2.5937897153))
            Line((9.844806416, -2.5937897153), (13.5143666012, -2.5937897153))
            Line((13.5143666012, -2.5937897153), (9.7753619716, 3.9062102847))
            Line((9.7753619716, 3.9062102847), (9.7145980827, 3.9062102847))
            add(Edge.make_bspline(
                [(9.7145980827, 3.9062102847), (9.844806416, 1.9205332013), (9.844806416, 1.0720088958)],
                knots=[0, 0, 0, 1, 1, 1], degree=2))
        make_face()
        with Locations((18.008868916, 1.4062102847)):
            Rectangle(F0_W_6, F0_H)
        Polygon((16.7610390549, -2.5937897153), (13.5143666012, -2.5937897153), (14.0895980827, -3.5937897153), (16.7610390549, -3.5937897153), align=None)
        Polygon((19.2566987772, 6.321574868), (19.2566987772, 5.4062102847), (22.4393166622, 5.4062102847), (21.9086084994, 6.321574868), align=None)
        with BuildLine():
            Line((22.4393166622, 5.4062102847), (19.2566987772, 5.4062102847))
            Line((19.2566987772, 5.4062102847), (19.2566987772, -2.5937897153))
            Line((19.2566987772, -2.5937897153), (21.1360390549, -2.5937897153))
            Line((21.1360390549, -2.5937897153), (21.1360390549, 1.0720088958))
            add(Edge.make_bspline(
                [(21.0058307216, 3.9062102847), (21.1360390549, 1.9205332013), (21.1360390549, 1.0720088958)],
                knots=[0, 0, 0, 1, 1, 1], degree=2))
            Line((21.0058307216, 3.9062102847), (21.0665946105, 3.9062102847))
            Line((21.0665946105, 3.9062102847), (24.8055992401, -2.5937897153))
            Line((24.8055992401, -2.5937897153), (28.0522716938, -2.5937897153))
            Line((28.0522716938, -2.5937897153), (28.0522716938, 5.4062102847))
            Line((28.0522716938, 5.4062102847), (26.1599105827, 5.4062102847))
            Line((26.1599105827, 5.4062102847), (26.1599105827, 1.6275644513))
            add(Edge.make_bspline(
                [(26.2619071105, -1.1046404098), (26.1599105827, 0.8289533402), (26.1599105827, 1.6275644513)],
                knots=[0, 0, 0, 1, 1, 1], degree=2))
            Line((26.2619071105, -1.1046404098), (26.2141640549, -1.1046404098))
            Line((26.2141640549, -1.1046404098), (22.4393166622, 5.4062102847))
        make_face()
        with BuildLine():
            Line((26.1599105827, 5.4062102847), (22.4393166622, 5.4062102847))
            Line((22.4393166622, 5.4062102847), (26.2141640549, -1.1046404098))
            Line((26.2141640549, -1.1046404098), (26.2619071105, -1.1046404098))
            add(Edge.make_bspline(
                [(26.2619071105, -1.1046404098), (26.1599105827, 0.8289533402), (26.1599105827, 1.6275644513)],
                knots=[0, 0, 0, 1, 1, 1], degree=2))
            Line((26.1599105827, 1.6275644513), (26.1599105827, 5.4062102847))
        make_face()
        with Locations((20.196368916, -3.0937897153)):
            Rectangle(F0_W_3, F0_H_3)
        with Locations((27.1060911383, 5.8638925763)):
            Rectangle(F0_W_4, F0_H_2)
        with BuildLine():
            Line((21.1360390549, 1.0720088958), (21.1360390549, -2.5937897153))
            Line((21.1360390549, -2.5937897153), (24.8055992401, -2.5937897153))
            Line((24.8055992401, -2.5937897153), (21.0665946105, 3.9062102847))
            Line((21.0665946105, 3.9062102847), (21.0058307216, 3.9062102847))
            add(Edge.make_bspline(
                [(21.0058307216, 3.9062102847), (21.1360390549, 1.9205332013), (21.1360390549, 1.0720088958)],
                knots=[0, 0, 0, 1, 1, 1], degree=2))
        make_face()
        Polygon((29.7918424154, 5.4062102847), (28.0522716938, 5.4062102847), (28.0522716938, -2.5937897153), (32.5900321105, -2.5937897153), (32.5900321105, 0.1974429236), align=None)
        Polygon((28.0522716938, -2.5937897153), (24.8055992401, -2.5937897153), (25.3808307216, -3.5937897153), (28.0522716938, -3.5937897153), align=None)
        Polygon((29.3001015549, 6.321574868), (29.7918424154, 5.4062102847), (32.0395928218, 5.4062102847), (31.5787473883, 6.321574868), align=None)
        Polygon((32.0395928218, 5.4062102847), (29.7918424154, 5.4062102847), (32.5900321105, 0.1974429236), (32.5900321105, -2.5937897153), (34.6777057216, -2.5937897153), (34.6777057216, 0.2647172291), (37.470433587, 5.4062102847), (35.2382460204, 5.4062102847), (33.633868916, 2.239543618), align=None)
        Polygon((35.2382460204, 5.4062102847), (32.0395928218, 5.4062102847), (33.633868916, 2.239543618), align=None)
        with Locations((33.633868916, -3.0937897153)):
            Rectangle(F0_W_5, F0_H_3)
        Polygon((35.7020112772, 6.321574868), (35.2382460204, 5.4062102847), (37.470433587, 5.4062102847), (37.9676362772, 6.321574868), align=None)
        Polygon((34.6777057216, 0.2647172291), (34.6777057216, -2.5937897153), (41.0481887162, -2.5937897153), (41.0481887162, 5.4062102847), (37.470433587, 5.4062102847), align=None)
    extrude(amount=F2_DEPTH)


solid = f1_1.part
